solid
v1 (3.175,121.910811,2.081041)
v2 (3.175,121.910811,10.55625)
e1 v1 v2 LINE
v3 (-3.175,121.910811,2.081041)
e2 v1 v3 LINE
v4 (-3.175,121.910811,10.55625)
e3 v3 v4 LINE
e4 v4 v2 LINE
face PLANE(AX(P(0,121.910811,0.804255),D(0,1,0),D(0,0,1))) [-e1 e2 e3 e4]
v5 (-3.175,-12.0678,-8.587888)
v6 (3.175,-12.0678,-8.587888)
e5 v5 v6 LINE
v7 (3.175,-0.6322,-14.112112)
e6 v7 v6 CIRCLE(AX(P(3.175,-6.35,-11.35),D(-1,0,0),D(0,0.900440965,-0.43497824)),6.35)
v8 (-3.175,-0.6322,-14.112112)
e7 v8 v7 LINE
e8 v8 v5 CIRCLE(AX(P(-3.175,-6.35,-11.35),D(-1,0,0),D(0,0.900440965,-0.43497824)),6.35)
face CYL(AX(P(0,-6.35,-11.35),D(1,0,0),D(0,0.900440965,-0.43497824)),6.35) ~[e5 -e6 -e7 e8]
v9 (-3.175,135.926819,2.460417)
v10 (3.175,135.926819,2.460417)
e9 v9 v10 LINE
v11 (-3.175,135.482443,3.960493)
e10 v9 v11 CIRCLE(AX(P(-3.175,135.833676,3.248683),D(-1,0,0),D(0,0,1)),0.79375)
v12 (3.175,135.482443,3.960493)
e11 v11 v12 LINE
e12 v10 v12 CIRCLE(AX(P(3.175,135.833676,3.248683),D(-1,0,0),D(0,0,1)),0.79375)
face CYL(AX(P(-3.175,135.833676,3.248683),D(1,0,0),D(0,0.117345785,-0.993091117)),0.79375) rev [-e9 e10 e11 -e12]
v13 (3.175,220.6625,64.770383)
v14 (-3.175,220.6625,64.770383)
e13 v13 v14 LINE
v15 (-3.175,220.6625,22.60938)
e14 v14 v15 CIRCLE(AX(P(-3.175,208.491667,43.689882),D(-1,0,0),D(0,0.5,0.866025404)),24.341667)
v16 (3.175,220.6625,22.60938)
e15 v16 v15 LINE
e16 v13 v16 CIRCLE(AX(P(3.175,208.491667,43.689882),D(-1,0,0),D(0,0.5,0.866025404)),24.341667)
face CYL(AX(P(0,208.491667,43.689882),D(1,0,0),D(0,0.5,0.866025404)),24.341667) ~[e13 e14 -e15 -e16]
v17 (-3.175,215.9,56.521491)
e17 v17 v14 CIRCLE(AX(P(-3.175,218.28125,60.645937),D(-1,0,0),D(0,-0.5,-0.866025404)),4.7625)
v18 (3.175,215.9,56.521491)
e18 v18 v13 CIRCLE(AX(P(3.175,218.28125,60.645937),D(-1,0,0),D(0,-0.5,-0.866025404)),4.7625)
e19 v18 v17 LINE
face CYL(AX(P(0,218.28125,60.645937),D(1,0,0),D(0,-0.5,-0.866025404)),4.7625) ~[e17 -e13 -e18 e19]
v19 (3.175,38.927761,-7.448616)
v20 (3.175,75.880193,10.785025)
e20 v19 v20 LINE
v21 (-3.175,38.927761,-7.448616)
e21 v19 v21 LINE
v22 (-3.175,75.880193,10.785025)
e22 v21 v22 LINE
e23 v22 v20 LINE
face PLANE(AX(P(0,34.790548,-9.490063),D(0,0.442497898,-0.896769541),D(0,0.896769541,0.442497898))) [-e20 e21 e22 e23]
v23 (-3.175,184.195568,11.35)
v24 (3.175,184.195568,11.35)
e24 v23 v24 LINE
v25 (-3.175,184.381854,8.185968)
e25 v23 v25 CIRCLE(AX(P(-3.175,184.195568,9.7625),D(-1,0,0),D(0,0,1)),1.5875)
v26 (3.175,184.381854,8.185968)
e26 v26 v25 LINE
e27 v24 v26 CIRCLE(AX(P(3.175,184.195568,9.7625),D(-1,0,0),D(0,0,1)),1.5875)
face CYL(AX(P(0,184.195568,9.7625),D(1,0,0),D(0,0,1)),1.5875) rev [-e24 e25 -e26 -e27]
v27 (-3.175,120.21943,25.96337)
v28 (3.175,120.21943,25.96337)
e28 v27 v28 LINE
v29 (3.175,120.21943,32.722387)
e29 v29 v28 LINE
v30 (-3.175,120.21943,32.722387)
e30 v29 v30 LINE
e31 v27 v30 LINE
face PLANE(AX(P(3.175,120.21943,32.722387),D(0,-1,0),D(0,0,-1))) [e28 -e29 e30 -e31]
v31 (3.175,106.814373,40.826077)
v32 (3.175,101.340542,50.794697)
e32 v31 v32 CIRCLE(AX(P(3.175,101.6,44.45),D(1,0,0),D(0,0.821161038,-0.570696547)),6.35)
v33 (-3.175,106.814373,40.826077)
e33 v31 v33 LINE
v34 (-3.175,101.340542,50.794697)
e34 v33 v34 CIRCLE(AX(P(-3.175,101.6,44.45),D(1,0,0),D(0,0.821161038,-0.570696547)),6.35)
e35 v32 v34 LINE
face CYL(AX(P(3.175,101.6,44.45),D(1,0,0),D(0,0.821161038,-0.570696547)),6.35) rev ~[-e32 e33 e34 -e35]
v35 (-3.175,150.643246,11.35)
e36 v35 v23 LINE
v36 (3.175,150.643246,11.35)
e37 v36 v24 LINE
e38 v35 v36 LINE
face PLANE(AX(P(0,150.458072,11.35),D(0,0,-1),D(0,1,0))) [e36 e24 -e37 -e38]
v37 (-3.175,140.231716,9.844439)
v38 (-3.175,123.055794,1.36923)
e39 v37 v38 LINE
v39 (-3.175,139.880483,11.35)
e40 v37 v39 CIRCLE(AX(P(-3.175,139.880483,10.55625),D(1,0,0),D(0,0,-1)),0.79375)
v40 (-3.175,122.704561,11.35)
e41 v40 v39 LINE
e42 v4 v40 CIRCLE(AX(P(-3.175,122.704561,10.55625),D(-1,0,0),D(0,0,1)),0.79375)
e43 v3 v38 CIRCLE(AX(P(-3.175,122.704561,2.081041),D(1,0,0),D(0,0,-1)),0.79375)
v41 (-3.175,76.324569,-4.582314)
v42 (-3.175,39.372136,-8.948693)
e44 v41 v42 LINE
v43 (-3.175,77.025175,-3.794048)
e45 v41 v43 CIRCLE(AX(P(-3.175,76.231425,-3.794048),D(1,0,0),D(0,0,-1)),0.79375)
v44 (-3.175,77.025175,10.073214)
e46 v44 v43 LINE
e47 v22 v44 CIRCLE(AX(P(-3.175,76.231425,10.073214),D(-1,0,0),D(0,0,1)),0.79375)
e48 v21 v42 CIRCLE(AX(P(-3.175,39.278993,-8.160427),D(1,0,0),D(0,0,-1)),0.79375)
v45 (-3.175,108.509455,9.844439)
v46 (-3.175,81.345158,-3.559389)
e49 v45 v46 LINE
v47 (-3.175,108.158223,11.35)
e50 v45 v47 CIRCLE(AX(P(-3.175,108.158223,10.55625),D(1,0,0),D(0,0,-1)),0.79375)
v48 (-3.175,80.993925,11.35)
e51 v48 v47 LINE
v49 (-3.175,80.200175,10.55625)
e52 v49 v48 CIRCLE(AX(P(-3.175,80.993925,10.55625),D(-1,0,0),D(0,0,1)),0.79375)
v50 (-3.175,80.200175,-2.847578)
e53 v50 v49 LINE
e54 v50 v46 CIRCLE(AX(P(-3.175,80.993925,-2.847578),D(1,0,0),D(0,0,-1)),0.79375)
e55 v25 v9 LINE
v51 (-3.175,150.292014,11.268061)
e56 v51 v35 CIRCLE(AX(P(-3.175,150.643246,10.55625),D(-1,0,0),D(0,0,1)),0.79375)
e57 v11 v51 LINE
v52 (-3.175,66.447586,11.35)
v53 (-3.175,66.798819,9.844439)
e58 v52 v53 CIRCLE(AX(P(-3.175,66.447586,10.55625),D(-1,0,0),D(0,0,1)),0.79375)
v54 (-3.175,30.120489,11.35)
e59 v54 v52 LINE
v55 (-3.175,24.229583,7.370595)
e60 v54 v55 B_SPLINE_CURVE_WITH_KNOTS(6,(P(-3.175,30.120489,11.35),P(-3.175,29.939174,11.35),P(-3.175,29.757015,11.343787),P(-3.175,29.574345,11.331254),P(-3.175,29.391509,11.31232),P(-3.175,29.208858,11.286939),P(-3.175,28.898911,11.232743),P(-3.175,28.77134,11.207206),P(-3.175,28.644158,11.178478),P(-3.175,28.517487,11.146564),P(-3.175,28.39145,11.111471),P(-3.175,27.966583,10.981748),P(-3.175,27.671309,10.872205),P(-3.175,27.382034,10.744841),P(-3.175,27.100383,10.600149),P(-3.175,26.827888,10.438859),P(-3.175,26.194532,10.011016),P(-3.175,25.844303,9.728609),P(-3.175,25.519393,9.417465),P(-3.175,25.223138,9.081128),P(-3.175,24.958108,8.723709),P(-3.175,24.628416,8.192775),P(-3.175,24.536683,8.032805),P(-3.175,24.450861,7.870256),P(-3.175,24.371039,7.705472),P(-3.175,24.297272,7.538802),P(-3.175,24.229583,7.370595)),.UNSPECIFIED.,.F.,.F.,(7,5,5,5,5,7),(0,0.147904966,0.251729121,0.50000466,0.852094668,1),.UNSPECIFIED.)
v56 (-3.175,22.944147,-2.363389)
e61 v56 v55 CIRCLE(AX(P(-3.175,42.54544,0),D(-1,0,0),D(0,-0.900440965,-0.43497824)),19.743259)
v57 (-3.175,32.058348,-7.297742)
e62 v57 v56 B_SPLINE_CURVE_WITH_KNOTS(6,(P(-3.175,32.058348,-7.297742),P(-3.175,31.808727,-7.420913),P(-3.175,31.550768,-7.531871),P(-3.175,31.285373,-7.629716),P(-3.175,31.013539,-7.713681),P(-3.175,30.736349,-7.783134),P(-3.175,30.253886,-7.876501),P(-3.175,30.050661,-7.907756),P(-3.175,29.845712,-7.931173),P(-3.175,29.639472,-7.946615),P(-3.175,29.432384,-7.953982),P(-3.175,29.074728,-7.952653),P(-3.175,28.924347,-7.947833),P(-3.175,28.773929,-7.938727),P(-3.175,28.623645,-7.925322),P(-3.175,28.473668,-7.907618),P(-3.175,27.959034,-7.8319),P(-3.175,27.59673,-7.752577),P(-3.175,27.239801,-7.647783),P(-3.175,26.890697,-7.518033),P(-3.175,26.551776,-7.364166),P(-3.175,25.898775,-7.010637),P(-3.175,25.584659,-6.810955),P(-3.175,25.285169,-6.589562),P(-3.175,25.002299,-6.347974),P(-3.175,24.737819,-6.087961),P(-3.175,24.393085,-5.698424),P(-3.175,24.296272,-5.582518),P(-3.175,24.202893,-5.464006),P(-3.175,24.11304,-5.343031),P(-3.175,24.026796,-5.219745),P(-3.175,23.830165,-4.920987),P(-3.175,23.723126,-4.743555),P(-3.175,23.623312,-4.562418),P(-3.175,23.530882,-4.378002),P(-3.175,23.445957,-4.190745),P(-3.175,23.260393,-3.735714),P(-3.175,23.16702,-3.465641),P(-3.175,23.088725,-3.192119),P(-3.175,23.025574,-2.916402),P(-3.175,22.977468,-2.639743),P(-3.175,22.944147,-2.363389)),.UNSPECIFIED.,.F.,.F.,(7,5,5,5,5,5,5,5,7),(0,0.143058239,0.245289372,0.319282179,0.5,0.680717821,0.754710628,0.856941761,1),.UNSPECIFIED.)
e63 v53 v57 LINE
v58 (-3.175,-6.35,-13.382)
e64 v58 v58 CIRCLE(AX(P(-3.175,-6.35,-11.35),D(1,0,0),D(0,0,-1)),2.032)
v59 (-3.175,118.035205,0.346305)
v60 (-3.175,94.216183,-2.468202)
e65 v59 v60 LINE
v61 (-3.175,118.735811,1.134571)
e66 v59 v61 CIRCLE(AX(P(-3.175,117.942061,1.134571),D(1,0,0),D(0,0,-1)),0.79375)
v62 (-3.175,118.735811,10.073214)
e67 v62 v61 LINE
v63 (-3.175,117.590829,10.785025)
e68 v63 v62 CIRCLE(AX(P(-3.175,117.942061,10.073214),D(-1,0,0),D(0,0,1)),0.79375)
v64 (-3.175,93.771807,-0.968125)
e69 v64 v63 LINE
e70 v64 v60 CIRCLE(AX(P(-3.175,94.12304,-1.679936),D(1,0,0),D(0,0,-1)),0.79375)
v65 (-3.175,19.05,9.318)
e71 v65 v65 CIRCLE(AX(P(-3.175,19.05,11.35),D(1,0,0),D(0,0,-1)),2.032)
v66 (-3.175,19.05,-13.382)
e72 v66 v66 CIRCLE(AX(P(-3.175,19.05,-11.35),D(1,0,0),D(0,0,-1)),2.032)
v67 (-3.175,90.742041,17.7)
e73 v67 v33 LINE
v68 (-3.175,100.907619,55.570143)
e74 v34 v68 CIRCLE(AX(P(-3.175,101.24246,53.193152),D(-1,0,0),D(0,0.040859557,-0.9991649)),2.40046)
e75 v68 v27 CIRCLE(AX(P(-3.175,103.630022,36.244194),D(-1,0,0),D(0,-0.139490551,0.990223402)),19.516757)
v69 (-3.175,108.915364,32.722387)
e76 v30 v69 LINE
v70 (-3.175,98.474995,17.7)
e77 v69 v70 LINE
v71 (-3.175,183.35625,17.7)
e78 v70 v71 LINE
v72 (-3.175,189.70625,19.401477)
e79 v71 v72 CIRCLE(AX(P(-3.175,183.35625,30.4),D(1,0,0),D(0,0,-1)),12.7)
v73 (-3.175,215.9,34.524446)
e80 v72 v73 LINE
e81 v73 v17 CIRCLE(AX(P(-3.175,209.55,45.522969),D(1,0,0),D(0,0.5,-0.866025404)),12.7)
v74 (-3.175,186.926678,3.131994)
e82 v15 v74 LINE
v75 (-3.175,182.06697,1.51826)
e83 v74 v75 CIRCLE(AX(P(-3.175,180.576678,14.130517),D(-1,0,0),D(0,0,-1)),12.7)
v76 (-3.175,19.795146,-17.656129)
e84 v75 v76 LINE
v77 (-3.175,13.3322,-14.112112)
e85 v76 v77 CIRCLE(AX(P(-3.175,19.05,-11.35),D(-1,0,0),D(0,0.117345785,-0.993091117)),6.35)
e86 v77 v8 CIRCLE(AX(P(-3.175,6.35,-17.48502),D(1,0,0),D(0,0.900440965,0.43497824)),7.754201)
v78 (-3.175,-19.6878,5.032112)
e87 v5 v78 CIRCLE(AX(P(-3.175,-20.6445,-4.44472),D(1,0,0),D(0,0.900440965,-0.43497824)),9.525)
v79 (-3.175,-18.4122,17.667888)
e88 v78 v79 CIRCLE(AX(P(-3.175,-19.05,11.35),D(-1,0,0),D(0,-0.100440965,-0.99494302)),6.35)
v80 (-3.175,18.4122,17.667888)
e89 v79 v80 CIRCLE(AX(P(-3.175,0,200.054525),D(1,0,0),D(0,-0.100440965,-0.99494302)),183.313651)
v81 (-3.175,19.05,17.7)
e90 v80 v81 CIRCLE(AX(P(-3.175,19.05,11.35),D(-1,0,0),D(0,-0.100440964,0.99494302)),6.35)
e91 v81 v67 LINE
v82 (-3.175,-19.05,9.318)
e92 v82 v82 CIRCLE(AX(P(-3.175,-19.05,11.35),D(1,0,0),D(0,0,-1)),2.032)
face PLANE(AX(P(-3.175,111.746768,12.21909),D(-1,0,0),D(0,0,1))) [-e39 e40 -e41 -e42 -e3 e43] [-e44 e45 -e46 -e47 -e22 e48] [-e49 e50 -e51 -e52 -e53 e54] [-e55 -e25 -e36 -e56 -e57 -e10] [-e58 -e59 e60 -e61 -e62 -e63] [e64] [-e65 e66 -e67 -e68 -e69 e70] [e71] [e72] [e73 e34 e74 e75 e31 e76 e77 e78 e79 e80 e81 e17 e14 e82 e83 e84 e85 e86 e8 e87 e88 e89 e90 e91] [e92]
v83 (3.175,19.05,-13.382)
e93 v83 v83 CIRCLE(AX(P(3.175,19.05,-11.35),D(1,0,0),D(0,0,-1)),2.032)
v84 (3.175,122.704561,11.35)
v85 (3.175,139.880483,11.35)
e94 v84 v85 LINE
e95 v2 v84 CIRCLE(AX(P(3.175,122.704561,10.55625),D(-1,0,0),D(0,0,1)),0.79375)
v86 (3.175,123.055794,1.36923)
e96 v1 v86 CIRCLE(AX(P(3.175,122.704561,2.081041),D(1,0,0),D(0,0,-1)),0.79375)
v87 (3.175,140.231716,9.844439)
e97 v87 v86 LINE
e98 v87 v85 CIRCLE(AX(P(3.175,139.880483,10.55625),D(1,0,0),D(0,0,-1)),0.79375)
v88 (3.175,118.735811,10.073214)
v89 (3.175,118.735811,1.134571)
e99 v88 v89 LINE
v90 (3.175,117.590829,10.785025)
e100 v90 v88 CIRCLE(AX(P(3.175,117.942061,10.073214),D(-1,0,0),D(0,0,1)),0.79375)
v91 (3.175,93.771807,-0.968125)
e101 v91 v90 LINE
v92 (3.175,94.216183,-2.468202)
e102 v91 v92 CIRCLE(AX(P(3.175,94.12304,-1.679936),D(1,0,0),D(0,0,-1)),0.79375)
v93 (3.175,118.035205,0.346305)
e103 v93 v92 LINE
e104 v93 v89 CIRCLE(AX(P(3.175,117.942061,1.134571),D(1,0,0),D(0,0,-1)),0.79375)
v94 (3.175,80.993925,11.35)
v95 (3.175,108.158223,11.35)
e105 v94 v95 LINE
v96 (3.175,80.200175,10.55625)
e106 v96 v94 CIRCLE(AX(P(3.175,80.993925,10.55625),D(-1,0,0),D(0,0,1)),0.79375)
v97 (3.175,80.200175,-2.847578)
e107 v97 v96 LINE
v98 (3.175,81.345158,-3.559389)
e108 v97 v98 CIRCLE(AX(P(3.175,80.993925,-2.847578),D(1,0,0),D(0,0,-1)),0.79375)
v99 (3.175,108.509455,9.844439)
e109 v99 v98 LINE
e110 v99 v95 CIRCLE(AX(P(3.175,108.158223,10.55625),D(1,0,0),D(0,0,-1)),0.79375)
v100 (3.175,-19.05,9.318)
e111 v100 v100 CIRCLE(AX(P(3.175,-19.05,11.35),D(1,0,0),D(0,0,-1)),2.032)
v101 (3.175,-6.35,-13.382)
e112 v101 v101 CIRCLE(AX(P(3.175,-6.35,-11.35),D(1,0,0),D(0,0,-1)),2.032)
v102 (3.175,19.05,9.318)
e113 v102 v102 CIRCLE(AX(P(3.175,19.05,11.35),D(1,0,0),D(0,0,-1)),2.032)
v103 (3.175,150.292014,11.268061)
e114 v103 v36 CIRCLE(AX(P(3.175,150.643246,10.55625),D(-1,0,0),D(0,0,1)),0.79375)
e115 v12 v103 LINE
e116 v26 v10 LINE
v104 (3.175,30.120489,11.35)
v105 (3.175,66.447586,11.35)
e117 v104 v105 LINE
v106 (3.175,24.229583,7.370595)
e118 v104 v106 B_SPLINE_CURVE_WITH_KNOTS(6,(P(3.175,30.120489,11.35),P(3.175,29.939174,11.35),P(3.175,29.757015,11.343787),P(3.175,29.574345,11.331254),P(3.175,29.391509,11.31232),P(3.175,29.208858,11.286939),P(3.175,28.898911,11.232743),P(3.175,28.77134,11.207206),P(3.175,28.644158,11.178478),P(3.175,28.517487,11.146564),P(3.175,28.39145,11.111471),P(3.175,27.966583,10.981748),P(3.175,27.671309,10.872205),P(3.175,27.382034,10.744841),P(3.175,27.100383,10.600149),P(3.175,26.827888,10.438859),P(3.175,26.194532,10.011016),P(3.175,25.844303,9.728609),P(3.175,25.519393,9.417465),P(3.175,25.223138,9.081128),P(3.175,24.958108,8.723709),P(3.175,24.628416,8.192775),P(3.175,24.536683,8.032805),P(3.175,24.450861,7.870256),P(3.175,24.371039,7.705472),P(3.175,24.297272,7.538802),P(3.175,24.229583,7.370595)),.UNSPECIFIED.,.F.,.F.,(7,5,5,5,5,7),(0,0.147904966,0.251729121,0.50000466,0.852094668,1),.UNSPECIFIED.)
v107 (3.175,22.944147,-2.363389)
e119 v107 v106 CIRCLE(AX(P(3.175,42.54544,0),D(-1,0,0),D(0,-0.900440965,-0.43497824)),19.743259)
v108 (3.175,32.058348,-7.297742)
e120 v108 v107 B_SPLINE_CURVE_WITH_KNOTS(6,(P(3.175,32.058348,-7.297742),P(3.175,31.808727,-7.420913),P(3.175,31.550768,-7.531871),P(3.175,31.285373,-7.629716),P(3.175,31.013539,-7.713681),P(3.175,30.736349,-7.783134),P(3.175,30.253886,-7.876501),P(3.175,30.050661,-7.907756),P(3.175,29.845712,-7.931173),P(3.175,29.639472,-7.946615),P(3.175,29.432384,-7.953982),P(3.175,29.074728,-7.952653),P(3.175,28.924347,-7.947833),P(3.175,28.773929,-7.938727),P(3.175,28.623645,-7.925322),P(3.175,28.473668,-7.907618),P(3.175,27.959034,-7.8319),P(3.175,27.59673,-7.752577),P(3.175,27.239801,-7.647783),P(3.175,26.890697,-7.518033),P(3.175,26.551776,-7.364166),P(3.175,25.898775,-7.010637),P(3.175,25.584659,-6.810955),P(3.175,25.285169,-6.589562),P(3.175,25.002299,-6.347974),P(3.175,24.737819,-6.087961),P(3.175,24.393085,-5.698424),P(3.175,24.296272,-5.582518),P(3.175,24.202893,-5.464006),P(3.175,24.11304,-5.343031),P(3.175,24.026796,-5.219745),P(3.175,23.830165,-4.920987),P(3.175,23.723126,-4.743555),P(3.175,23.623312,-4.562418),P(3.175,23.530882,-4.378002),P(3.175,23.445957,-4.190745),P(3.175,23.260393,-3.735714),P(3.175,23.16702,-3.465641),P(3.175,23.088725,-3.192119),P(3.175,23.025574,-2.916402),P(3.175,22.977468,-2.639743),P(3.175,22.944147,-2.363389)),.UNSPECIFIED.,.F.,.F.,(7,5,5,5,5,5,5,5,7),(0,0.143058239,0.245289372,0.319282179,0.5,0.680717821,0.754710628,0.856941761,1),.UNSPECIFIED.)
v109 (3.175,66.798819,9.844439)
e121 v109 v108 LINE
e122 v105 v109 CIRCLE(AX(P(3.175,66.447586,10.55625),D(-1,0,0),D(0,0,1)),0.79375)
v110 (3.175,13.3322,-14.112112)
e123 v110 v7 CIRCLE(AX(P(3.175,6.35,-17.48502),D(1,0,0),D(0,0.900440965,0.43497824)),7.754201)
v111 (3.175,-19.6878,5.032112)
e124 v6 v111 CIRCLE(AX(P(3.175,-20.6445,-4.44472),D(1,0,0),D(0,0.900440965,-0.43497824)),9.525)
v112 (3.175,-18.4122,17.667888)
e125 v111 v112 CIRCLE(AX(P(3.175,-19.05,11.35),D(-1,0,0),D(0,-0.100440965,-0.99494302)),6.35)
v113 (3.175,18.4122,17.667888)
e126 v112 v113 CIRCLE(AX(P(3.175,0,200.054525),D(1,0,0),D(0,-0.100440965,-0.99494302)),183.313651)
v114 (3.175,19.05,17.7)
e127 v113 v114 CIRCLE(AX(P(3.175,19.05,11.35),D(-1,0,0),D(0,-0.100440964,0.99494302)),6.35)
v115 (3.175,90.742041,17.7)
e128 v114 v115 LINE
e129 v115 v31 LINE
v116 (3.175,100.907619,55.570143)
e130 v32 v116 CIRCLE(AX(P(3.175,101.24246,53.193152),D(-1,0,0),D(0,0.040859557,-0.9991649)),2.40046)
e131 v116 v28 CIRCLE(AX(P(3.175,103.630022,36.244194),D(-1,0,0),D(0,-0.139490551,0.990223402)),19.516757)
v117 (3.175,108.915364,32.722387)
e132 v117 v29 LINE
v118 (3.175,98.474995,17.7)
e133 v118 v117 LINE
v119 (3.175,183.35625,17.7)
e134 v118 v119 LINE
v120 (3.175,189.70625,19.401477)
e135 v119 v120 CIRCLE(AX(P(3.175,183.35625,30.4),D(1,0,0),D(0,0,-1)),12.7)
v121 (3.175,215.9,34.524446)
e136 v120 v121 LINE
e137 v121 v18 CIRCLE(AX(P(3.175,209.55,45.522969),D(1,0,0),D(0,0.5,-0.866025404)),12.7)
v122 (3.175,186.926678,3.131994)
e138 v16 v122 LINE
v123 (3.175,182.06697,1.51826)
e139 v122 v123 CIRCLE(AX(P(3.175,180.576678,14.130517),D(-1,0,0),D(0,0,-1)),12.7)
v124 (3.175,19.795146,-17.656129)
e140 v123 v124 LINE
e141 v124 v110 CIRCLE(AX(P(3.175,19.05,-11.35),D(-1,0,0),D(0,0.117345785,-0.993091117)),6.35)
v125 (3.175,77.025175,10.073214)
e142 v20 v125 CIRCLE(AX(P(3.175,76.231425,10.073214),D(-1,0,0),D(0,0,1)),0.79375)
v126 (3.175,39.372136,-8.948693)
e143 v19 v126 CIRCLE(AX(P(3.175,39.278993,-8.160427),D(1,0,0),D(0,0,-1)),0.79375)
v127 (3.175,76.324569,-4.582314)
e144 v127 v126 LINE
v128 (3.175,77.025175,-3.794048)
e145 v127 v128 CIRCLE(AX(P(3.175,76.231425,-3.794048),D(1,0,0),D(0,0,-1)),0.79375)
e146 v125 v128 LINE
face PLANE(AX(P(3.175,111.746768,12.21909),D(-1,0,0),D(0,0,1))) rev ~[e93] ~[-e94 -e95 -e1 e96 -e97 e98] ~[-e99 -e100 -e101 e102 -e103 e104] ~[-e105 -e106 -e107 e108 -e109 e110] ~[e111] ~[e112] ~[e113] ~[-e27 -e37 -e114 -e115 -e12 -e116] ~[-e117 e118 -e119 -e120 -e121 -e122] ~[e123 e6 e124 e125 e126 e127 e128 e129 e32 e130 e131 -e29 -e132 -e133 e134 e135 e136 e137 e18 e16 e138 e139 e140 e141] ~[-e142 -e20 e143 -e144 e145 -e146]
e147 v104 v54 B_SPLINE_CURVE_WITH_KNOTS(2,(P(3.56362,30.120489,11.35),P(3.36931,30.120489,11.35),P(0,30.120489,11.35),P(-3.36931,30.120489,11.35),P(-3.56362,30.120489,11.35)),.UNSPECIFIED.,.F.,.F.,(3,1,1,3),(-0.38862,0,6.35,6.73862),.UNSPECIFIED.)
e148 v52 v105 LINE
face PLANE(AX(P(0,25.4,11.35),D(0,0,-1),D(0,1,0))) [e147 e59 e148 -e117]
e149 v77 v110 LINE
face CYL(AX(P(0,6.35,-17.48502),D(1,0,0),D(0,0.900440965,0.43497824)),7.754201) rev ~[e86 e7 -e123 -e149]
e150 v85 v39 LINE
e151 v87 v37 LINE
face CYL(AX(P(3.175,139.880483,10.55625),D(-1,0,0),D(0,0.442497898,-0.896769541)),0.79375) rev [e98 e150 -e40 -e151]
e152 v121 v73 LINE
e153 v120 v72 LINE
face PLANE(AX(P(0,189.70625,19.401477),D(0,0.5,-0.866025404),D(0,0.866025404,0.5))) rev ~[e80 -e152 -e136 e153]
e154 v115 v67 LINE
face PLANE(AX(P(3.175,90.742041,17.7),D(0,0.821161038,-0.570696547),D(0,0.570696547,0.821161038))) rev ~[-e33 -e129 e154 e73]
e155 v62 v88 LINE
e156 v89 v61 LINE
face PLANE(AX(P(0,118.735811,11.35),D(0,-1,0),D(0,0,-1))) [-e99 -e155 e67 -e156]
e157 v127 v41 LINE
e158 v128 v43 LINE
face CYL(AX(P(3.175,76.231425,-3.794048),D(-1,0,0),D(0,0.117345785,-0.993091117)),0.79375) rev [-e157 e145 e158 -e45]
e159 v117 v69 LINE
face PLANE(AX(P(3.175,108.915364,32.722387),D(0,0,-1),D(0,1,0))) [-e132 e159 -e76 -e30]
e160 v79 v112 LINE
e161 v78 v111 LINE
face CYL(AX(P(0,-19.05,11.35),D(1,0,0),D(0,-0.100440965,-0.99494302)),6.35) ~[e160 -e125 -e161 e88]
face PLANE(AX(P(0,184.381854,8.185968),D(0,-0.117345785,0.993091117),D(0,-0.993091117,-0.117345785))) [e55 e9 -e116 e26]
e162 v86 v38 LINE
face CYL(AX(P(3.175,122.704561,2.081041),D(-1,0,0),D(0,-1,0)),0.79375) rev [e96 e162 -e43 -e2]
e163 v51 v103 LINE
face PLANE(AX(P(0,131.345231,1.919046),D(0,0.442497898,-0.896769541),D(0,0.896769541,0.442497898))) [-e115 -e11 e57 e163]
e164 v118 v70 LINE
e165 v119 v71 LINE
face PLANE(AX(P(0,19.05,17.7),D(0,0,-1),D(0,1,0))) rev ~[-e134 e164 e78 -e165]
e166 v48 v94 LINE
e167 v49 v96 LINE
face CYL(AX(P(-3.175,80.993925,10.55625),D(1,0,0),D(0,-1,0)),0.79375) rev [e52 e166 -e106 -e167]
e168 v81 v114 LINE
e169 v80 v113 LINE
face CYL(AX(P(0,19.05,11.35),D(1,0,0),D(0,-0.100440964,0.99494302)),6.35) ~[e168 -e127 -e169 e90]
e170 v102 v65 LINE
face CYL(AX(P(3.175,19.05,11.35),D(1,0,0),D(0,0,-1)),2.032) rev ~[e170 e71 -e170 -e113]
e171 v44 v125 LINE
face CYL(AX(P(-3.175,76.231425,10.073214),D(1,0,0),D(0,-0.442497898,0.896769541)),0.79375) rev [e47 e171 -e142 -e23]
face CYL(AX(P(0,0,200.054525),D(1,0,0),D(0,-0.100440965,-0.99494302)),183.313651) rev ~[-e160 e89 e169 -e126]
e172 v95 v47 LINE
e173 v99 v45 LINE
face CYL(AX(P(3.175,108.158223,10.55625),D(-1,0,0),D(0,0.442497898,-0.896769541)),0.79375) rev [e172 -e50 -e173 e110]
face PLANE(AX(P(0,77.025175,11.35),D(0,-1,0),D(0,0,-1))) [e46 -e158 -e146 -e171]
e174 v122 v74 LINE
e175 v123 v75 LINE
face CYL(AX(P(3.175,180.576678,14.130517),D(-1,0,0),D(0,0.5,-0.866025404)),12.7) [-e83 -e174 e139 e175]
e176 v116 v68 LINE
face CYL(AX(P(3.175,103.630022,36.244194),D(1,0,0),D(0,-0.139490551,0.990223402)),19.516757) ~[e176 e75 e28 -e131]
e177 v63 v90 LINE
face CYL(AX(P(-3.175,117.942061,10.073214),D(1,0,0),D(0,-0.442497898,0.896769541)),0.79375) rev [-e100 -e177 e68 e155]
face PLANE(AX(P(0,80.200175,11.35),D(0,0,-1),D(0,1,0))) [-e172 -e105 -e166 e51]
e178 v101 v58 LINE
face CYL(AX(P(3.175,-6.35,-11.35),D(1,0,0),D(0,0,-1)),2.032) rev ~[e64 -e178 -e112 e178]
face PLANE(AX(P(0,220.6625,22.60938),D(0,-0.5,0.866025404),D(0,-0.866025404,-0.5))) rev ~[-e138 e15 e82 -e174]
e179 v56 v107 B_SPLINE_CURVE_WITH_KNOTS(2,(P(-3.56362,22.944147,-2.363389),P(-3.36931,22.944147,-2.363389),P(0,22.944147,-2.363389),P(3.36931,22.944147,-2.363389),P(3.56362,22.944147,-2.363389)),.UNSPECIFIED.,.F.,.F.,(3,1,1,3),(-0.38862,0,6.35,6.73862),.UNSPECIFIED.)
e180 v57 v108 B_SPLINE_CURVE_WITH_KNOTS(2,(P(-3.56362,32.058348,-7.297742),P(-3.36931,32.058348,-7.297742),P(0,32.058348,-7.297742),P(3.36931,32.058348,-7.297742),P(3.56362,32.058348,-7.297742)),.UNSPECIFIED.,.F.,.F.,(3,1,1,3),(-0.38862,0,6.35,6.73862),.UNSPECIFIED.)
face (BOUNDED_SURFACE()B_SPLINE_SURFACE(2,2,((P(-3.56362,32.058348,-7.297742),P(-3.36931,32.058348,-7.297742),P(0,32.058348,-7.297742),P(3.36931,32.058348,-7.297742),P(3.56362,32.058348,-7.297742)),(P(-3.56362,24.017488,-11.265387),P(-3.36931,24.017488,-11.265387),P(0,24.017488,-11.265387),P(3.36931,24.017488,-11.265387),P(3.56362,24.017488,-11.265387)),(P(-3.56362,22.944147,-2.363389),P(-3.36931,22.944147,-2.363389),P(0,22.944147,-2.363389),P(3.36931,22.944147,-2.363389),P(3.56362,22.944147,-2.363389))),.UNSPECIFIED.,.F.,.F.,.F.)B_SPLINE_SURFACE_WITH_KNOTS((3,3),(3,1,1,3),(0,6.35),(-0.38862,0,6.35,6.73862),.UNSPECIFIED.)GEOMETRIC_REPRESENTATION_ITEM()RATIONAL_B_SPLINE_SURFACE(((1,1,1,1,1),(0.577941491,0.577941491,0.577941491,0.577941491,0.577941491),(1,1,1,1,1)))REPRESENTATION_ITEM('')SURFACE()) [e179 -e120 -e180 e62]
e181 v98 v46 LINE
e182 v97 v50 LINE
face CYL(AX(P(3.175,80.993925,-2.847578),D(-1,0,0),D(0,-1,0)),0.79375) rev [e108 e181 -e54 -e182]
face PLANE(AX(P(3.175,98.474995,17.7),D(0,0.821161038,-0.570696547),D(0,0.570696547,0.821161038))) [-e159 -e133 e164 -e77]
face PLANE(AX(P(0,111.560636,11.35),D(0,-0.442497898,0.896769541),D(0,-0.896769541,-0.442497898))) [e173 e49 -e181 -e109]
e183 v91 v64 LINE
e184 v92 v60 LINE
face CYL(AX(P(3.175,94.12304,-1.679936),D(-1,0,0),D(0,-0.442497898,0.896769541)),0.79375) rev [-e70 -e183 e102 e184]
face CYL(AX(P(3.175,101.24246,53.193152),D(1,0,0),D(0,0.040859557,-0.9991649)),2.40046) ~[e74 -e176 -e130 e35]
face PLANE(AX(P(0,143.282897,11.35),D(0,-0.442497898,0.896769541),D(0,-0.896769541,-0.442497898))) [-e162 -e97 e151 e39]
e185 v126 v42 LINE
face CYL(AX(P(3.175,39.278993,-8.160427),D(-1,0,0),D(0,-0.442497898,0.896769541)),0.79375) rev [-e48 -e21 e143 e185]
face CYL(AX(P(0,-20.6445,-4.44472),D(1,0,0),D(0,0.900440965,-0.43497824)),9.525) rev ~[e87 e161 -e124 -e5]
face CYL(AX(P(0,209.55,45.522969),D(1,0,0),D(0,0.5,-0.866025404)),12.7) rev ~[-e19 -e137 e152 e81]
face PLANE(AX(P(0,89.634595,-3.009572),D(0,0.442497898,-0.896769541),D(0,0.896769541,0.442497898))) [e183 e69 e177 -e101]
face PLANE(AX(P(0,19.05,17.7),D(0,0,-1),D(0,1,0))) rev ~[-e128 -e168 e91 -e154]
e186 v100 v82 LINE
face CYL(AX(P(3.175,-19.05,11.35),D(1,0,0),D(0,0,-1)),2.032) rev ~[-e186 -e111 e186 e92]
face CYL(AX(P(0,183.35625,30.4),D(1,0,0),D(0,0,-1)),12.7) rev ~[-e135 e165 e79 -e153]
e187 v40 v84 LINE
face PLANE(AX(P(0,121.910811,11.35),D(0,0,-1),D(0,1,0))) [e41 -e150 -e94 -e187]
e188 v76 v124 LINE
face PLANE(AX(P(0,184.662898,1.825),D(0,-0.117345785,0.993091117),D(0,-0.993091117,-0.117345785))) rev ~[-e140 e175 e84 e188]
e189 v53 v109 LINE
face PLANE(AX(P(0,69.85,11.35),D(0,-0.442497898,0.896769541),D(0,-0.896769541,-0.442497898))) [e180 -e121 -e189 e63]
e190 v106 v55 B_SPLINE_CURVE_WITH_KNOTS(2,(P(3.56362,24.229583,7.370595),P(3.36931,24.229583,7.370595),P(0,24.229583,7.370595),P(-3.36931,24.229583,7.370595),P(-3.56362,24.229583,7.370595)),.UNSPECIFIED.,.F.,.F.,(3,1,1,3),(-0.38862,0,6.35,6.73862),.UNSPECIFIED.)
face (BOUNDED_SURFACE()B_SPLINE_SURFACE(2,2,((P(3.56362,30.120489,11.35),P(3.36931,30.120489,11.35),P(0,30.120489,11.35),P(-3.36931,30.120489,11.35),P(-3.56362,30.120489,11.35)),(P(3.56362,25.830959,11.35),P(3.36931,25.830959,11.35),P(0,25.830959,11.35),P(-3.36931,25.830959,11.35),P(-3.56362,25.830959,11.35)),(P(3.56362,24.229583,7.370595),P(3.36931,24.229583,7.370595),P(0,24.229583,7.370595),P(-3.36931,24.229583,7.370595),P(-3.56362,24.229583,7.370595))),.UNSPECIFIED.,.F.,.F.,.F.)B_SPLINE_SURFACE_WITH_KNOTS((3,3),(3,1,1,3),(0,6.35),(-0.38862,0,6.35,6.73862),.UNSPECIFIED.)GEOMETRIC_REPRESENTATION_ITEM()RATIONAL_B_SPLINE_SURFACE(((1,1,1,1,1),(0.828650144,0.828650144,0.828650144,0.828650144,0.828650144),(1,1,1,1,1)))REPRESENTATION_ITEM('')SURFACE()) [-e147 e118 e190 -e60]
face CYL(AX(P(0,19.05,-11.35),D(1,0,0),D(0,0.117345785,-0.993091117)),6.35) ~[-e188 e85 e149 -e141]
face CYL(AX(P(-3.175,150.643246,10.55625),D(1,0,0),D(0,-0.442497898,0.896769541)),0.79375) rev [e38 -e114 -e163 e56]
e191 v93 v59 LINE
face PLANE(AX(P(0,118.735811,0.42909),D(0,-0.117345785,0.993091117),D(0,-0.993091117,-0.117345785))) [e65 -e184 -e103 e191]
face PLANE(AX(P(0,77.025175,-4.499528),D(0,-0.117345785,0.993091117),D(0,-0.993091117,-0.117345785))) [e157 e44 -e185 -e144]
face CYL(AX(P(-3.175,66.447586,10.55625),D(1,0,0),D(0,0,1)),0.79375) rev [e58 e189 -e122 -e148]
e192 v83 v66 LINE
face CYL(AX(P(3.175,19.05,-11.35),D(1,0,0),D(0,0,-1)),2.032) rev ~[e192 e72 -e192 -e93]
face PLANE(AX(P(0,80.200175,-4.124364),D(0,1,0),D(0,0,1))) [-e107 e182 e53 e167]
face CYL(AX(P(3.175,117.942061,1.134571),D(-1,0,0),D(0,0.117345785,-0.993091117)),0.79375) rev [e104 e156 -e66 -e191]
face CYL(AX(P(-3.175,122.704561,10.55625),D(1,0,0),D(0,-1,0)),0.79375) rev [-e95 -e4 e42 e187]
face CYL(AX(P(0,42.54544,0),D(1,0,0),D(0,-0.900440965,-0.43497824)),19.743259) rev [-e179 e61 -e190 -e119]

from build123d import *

# Parameters (mm, degrees)
BOSS_EXTRUDE1_DEPTH = 3.175
SKETCH2_R           = 2.032
CUT_EXTRUDE1_DEPTH  = 242.929632893
FILLET1_R           = 12.7
FILLET2_R           = 0.79375
FILLET3_R           = 6.35
BOSS_EXTRUDE2_DEPTH = 6.35
CUT_EXTRUDE2_DEPTH  = 242.929633019


with BuildPart() as part:
    # Sketch1 → Boss-Extrude1 (new, symmetric)
    with BuildSketch(Plane(origin=(0, 0, 0), x_dir=(0, 0, -1), z_dir=(1, 0, 0))):
        with BuildLine():
            Line((-17.7, 19.05), (-17.7, 183.35625))
            ThreePointArc((-17.7, 183.35625), (-18.132742006, 186.643251873), (-19.401477372, 189.70625))
            Line((-19.401477372, 189.70625), (-34.524445986, 215.9))
            ThreePointArc((-34.524445986, 215.9), (-45.522968614, 222.25), (-56.521491242, 215.9))
            ThreePointArc((-56.521491242, 215.9), (-63.027187227, 214.156804014), (-64.770383213, 220.6625))
            ThreePointArc((-64.770383213, 220.6625), (-43.689881509, 232.833333333), (-22.609379805, 220.6625))
            Line((-22.609379805, 220.6625), (-1.825, 184.662898174))
            Line((-1.825, 184.662898174), (17.656128594, 19.795145732))
            ThreePointArc((17.656128594, 19.795145732), (16.917823934, 15.996831704), (14.112111824, 13.332199875))
            ThreePointArc((14.112111824, 13.332199875), (9.73081975, 6.35), (14.112111824, -0.632199875))
            ThreePointArc((14.112111824, -0.632199875), (17.067800125, -9.112111824), (8.587888176, -12.067800125))
            ThreePointArc((8.587888176, -12.067800125), (-0.205881062, -12.332007866), (-5.032111824, -19.687800125))
            ThreePointArc((-5.032111824, -19.687800125), (-11.987800125, -25.367888176), (-17.667888176, -18.412199875))
            ThreePointArc((-17.667888176, -18.412199875), (-16.740874674, 0), (-17.667888176, 18.412199875))
            ThreePointArc((-17.667888176, 18.412199875), (-17.691966963, 18.730696003), (-17.7, 19.05))
        make_face()
        with BuildLine():
            Line((-11.35, 25.4), (-11.35, 69.85))
            Line((-11.35, 69.85), (10.604854268, 25.356128594))
            ThreePointArc((10.604854268, 25.356128594), (9.571869946, 25.145962066), (8.587888176, 24.767800125))
            ThreePointArc((8.587888176, 24.767800125), (0, 22.802180275), (-8.587888176, 24.767800125))
            ThreePointArc((-8.587888176, 24.767800125), (-9.933230928, 25.239932584), (-11.35, 25.4))
        make_face(mode=Mode.SUBTRACT)
        Polygon((9.490062912, 34.790548391), (-11.35, 77.025175321), (4.499528462, 77.025175321), align=None, mode=Mode.SUBTRACT)
        Polygon((4.124363626, 80.200175321), (-11.35, 80.200175321), (-11.35, 111.560636058), align=None, mode=Mode.SUBTRACT)
        Polygon((3.00957227, 89.634595118), (-11.35, 118.735811379), (-0.429090099, 118.735811379), align=None, mode=Mode.SUBTRACT)
        Polygon((-0.804254935, 121.910811379), (-11.35, 121.910811379), (-11.35, 143.282896982), align=None, mode=Mode.SUBTRACT)
        with BuildLine():
            Line((-8.185967852, 184.381854159), (-1.919046291, 131.345231176))
            Line((-1.919046291, 131.345231176), (-11.35, 150.458072303))
            Line((-11.35, 150.458072303), (-11.35, 184.195567726))
            ThreePointArc((-11.35, 184.195567726), (-9.855804513, 185.780323391), (-8.185967852, 184.381854159))
        make_face(mode=Mode.SUBTRACT)
    extrude(amount=BOSS_EXTRUDE1_DEPTH, both=True)

    # Sketch2 → Cut-Extrude1 (cut, through all)
    with BuildSketch(Plane(origin=(3.175, 0, 0), x_dir=(0, 0, -1), z_dir=(1, 0, 0))):
        with Locations((11.35, -6.35)):
            Circle(SKETCH2_R)
        with Locations((11.35, 19.05)):
            Circle(SKETCH2_R)
        with Locations((-11.35, 19.05)):
            Circle(SKETCH2_R)
        with Locations((-11.35, -19.05)):
            Circle(SKETCH2_R)
    extrude(amount=-CUT_EXTRUDE1_DEPTH, mode=Mode.SUBTRACT)

    # Fillet1
    fillet1_edges = [part.edges().sort_by_distance(p)[0] for p in [
        (0, 184.662898174, 1.825),
    ]]
    fillet(fillet1_edges, radius=FILLET1_R)

    # Fillet2
    fillet2_edges = [part.edges().sort_by_distance(p)[0] for p in [
        (0, 69.85, 11.35),
        (0, 34.790548391, -9.490062912),
        (0, 77.025175321, -4.499528462),
        (0, 77.025175321, 11.35),
        (0, 80.200175321, -4.124363626),
        (0, 111.560636058, 11.35),
        (0, 80.200175321, 11.35),
        (0, 89.634595118, -3.00957227),
        (0, 118.735811379, 0.429090099),
        (0, 118.735811379, 11.35),
        (0, 121.910811379, 0.804254935),
        (0, 143.282896982, 11.35),
        (0, 121.910811379, 11.35),
        (0, 150.458072303, 11.35),
        (0, 131.345231176, 1.919046291),
    ]]
    fillet(fillet2_edges, radius=FILLET2_R)

    # Fillet3
    fillet3_edges = [part.edges().sort_by_distance(p)[0] for p in [
        (0, 25.4, 11.35),
        (0, 25.356128594, -10.604854268),
    ]]
    fillet(fillet3_edges, radius=FILLET3_R)

    # Sketch3 → Boss-Extrude2 (add)
    with BuildSketch(Plane(origin=(3.175, 0, 0), x_dir=(0, 0, -1), z_dir=(1, 0, 0))):
        with BuildLine():
            Line((-17.7, 113.663160513), (-17.7, 90.742041294))
            Line((-17.7, 90.742041294), (-40.826076924, 106.814372593))
            ThreePointArc((-40.826076924, 106.814372593), (-47.50636364, 107.166070544), (-50.794697112, 101.340541809))
            ThreePointArc((-50.794697112, 101.340541809), (-52.976424691, 98.851804162), (-55.570143469, 100.907618649))
            ThreePointArc((-55.570143469, 100.907618649), (-45.805288512, 120.644406163), (-23.869094131, 118.721764812))
            Line((-23.869094131, 118.721764812), (-17.7, 113.663160513))
        make_face()
    extrude(amount=-BOSS_EXTRUDE2_DEPTH)

    # Sketch4 → Cut-Extrude2 (cut, through all)
    with BuildSketch(Plane(origin=(3.175, 0, 0), x_dir=(0, 0, -1), z_dir=(1, 0, 0))):
        Polygon((-17.7, 98.474994642), (-32.722386581, 108.91536353), (-32.722386581, 120.21942978), (-17.7, 120.21942978), align=None)
    extrude(amount=-CUT_EXTRUDE2_DEPTH, mode=Mode.SUBTRACT)


solid = part.part
